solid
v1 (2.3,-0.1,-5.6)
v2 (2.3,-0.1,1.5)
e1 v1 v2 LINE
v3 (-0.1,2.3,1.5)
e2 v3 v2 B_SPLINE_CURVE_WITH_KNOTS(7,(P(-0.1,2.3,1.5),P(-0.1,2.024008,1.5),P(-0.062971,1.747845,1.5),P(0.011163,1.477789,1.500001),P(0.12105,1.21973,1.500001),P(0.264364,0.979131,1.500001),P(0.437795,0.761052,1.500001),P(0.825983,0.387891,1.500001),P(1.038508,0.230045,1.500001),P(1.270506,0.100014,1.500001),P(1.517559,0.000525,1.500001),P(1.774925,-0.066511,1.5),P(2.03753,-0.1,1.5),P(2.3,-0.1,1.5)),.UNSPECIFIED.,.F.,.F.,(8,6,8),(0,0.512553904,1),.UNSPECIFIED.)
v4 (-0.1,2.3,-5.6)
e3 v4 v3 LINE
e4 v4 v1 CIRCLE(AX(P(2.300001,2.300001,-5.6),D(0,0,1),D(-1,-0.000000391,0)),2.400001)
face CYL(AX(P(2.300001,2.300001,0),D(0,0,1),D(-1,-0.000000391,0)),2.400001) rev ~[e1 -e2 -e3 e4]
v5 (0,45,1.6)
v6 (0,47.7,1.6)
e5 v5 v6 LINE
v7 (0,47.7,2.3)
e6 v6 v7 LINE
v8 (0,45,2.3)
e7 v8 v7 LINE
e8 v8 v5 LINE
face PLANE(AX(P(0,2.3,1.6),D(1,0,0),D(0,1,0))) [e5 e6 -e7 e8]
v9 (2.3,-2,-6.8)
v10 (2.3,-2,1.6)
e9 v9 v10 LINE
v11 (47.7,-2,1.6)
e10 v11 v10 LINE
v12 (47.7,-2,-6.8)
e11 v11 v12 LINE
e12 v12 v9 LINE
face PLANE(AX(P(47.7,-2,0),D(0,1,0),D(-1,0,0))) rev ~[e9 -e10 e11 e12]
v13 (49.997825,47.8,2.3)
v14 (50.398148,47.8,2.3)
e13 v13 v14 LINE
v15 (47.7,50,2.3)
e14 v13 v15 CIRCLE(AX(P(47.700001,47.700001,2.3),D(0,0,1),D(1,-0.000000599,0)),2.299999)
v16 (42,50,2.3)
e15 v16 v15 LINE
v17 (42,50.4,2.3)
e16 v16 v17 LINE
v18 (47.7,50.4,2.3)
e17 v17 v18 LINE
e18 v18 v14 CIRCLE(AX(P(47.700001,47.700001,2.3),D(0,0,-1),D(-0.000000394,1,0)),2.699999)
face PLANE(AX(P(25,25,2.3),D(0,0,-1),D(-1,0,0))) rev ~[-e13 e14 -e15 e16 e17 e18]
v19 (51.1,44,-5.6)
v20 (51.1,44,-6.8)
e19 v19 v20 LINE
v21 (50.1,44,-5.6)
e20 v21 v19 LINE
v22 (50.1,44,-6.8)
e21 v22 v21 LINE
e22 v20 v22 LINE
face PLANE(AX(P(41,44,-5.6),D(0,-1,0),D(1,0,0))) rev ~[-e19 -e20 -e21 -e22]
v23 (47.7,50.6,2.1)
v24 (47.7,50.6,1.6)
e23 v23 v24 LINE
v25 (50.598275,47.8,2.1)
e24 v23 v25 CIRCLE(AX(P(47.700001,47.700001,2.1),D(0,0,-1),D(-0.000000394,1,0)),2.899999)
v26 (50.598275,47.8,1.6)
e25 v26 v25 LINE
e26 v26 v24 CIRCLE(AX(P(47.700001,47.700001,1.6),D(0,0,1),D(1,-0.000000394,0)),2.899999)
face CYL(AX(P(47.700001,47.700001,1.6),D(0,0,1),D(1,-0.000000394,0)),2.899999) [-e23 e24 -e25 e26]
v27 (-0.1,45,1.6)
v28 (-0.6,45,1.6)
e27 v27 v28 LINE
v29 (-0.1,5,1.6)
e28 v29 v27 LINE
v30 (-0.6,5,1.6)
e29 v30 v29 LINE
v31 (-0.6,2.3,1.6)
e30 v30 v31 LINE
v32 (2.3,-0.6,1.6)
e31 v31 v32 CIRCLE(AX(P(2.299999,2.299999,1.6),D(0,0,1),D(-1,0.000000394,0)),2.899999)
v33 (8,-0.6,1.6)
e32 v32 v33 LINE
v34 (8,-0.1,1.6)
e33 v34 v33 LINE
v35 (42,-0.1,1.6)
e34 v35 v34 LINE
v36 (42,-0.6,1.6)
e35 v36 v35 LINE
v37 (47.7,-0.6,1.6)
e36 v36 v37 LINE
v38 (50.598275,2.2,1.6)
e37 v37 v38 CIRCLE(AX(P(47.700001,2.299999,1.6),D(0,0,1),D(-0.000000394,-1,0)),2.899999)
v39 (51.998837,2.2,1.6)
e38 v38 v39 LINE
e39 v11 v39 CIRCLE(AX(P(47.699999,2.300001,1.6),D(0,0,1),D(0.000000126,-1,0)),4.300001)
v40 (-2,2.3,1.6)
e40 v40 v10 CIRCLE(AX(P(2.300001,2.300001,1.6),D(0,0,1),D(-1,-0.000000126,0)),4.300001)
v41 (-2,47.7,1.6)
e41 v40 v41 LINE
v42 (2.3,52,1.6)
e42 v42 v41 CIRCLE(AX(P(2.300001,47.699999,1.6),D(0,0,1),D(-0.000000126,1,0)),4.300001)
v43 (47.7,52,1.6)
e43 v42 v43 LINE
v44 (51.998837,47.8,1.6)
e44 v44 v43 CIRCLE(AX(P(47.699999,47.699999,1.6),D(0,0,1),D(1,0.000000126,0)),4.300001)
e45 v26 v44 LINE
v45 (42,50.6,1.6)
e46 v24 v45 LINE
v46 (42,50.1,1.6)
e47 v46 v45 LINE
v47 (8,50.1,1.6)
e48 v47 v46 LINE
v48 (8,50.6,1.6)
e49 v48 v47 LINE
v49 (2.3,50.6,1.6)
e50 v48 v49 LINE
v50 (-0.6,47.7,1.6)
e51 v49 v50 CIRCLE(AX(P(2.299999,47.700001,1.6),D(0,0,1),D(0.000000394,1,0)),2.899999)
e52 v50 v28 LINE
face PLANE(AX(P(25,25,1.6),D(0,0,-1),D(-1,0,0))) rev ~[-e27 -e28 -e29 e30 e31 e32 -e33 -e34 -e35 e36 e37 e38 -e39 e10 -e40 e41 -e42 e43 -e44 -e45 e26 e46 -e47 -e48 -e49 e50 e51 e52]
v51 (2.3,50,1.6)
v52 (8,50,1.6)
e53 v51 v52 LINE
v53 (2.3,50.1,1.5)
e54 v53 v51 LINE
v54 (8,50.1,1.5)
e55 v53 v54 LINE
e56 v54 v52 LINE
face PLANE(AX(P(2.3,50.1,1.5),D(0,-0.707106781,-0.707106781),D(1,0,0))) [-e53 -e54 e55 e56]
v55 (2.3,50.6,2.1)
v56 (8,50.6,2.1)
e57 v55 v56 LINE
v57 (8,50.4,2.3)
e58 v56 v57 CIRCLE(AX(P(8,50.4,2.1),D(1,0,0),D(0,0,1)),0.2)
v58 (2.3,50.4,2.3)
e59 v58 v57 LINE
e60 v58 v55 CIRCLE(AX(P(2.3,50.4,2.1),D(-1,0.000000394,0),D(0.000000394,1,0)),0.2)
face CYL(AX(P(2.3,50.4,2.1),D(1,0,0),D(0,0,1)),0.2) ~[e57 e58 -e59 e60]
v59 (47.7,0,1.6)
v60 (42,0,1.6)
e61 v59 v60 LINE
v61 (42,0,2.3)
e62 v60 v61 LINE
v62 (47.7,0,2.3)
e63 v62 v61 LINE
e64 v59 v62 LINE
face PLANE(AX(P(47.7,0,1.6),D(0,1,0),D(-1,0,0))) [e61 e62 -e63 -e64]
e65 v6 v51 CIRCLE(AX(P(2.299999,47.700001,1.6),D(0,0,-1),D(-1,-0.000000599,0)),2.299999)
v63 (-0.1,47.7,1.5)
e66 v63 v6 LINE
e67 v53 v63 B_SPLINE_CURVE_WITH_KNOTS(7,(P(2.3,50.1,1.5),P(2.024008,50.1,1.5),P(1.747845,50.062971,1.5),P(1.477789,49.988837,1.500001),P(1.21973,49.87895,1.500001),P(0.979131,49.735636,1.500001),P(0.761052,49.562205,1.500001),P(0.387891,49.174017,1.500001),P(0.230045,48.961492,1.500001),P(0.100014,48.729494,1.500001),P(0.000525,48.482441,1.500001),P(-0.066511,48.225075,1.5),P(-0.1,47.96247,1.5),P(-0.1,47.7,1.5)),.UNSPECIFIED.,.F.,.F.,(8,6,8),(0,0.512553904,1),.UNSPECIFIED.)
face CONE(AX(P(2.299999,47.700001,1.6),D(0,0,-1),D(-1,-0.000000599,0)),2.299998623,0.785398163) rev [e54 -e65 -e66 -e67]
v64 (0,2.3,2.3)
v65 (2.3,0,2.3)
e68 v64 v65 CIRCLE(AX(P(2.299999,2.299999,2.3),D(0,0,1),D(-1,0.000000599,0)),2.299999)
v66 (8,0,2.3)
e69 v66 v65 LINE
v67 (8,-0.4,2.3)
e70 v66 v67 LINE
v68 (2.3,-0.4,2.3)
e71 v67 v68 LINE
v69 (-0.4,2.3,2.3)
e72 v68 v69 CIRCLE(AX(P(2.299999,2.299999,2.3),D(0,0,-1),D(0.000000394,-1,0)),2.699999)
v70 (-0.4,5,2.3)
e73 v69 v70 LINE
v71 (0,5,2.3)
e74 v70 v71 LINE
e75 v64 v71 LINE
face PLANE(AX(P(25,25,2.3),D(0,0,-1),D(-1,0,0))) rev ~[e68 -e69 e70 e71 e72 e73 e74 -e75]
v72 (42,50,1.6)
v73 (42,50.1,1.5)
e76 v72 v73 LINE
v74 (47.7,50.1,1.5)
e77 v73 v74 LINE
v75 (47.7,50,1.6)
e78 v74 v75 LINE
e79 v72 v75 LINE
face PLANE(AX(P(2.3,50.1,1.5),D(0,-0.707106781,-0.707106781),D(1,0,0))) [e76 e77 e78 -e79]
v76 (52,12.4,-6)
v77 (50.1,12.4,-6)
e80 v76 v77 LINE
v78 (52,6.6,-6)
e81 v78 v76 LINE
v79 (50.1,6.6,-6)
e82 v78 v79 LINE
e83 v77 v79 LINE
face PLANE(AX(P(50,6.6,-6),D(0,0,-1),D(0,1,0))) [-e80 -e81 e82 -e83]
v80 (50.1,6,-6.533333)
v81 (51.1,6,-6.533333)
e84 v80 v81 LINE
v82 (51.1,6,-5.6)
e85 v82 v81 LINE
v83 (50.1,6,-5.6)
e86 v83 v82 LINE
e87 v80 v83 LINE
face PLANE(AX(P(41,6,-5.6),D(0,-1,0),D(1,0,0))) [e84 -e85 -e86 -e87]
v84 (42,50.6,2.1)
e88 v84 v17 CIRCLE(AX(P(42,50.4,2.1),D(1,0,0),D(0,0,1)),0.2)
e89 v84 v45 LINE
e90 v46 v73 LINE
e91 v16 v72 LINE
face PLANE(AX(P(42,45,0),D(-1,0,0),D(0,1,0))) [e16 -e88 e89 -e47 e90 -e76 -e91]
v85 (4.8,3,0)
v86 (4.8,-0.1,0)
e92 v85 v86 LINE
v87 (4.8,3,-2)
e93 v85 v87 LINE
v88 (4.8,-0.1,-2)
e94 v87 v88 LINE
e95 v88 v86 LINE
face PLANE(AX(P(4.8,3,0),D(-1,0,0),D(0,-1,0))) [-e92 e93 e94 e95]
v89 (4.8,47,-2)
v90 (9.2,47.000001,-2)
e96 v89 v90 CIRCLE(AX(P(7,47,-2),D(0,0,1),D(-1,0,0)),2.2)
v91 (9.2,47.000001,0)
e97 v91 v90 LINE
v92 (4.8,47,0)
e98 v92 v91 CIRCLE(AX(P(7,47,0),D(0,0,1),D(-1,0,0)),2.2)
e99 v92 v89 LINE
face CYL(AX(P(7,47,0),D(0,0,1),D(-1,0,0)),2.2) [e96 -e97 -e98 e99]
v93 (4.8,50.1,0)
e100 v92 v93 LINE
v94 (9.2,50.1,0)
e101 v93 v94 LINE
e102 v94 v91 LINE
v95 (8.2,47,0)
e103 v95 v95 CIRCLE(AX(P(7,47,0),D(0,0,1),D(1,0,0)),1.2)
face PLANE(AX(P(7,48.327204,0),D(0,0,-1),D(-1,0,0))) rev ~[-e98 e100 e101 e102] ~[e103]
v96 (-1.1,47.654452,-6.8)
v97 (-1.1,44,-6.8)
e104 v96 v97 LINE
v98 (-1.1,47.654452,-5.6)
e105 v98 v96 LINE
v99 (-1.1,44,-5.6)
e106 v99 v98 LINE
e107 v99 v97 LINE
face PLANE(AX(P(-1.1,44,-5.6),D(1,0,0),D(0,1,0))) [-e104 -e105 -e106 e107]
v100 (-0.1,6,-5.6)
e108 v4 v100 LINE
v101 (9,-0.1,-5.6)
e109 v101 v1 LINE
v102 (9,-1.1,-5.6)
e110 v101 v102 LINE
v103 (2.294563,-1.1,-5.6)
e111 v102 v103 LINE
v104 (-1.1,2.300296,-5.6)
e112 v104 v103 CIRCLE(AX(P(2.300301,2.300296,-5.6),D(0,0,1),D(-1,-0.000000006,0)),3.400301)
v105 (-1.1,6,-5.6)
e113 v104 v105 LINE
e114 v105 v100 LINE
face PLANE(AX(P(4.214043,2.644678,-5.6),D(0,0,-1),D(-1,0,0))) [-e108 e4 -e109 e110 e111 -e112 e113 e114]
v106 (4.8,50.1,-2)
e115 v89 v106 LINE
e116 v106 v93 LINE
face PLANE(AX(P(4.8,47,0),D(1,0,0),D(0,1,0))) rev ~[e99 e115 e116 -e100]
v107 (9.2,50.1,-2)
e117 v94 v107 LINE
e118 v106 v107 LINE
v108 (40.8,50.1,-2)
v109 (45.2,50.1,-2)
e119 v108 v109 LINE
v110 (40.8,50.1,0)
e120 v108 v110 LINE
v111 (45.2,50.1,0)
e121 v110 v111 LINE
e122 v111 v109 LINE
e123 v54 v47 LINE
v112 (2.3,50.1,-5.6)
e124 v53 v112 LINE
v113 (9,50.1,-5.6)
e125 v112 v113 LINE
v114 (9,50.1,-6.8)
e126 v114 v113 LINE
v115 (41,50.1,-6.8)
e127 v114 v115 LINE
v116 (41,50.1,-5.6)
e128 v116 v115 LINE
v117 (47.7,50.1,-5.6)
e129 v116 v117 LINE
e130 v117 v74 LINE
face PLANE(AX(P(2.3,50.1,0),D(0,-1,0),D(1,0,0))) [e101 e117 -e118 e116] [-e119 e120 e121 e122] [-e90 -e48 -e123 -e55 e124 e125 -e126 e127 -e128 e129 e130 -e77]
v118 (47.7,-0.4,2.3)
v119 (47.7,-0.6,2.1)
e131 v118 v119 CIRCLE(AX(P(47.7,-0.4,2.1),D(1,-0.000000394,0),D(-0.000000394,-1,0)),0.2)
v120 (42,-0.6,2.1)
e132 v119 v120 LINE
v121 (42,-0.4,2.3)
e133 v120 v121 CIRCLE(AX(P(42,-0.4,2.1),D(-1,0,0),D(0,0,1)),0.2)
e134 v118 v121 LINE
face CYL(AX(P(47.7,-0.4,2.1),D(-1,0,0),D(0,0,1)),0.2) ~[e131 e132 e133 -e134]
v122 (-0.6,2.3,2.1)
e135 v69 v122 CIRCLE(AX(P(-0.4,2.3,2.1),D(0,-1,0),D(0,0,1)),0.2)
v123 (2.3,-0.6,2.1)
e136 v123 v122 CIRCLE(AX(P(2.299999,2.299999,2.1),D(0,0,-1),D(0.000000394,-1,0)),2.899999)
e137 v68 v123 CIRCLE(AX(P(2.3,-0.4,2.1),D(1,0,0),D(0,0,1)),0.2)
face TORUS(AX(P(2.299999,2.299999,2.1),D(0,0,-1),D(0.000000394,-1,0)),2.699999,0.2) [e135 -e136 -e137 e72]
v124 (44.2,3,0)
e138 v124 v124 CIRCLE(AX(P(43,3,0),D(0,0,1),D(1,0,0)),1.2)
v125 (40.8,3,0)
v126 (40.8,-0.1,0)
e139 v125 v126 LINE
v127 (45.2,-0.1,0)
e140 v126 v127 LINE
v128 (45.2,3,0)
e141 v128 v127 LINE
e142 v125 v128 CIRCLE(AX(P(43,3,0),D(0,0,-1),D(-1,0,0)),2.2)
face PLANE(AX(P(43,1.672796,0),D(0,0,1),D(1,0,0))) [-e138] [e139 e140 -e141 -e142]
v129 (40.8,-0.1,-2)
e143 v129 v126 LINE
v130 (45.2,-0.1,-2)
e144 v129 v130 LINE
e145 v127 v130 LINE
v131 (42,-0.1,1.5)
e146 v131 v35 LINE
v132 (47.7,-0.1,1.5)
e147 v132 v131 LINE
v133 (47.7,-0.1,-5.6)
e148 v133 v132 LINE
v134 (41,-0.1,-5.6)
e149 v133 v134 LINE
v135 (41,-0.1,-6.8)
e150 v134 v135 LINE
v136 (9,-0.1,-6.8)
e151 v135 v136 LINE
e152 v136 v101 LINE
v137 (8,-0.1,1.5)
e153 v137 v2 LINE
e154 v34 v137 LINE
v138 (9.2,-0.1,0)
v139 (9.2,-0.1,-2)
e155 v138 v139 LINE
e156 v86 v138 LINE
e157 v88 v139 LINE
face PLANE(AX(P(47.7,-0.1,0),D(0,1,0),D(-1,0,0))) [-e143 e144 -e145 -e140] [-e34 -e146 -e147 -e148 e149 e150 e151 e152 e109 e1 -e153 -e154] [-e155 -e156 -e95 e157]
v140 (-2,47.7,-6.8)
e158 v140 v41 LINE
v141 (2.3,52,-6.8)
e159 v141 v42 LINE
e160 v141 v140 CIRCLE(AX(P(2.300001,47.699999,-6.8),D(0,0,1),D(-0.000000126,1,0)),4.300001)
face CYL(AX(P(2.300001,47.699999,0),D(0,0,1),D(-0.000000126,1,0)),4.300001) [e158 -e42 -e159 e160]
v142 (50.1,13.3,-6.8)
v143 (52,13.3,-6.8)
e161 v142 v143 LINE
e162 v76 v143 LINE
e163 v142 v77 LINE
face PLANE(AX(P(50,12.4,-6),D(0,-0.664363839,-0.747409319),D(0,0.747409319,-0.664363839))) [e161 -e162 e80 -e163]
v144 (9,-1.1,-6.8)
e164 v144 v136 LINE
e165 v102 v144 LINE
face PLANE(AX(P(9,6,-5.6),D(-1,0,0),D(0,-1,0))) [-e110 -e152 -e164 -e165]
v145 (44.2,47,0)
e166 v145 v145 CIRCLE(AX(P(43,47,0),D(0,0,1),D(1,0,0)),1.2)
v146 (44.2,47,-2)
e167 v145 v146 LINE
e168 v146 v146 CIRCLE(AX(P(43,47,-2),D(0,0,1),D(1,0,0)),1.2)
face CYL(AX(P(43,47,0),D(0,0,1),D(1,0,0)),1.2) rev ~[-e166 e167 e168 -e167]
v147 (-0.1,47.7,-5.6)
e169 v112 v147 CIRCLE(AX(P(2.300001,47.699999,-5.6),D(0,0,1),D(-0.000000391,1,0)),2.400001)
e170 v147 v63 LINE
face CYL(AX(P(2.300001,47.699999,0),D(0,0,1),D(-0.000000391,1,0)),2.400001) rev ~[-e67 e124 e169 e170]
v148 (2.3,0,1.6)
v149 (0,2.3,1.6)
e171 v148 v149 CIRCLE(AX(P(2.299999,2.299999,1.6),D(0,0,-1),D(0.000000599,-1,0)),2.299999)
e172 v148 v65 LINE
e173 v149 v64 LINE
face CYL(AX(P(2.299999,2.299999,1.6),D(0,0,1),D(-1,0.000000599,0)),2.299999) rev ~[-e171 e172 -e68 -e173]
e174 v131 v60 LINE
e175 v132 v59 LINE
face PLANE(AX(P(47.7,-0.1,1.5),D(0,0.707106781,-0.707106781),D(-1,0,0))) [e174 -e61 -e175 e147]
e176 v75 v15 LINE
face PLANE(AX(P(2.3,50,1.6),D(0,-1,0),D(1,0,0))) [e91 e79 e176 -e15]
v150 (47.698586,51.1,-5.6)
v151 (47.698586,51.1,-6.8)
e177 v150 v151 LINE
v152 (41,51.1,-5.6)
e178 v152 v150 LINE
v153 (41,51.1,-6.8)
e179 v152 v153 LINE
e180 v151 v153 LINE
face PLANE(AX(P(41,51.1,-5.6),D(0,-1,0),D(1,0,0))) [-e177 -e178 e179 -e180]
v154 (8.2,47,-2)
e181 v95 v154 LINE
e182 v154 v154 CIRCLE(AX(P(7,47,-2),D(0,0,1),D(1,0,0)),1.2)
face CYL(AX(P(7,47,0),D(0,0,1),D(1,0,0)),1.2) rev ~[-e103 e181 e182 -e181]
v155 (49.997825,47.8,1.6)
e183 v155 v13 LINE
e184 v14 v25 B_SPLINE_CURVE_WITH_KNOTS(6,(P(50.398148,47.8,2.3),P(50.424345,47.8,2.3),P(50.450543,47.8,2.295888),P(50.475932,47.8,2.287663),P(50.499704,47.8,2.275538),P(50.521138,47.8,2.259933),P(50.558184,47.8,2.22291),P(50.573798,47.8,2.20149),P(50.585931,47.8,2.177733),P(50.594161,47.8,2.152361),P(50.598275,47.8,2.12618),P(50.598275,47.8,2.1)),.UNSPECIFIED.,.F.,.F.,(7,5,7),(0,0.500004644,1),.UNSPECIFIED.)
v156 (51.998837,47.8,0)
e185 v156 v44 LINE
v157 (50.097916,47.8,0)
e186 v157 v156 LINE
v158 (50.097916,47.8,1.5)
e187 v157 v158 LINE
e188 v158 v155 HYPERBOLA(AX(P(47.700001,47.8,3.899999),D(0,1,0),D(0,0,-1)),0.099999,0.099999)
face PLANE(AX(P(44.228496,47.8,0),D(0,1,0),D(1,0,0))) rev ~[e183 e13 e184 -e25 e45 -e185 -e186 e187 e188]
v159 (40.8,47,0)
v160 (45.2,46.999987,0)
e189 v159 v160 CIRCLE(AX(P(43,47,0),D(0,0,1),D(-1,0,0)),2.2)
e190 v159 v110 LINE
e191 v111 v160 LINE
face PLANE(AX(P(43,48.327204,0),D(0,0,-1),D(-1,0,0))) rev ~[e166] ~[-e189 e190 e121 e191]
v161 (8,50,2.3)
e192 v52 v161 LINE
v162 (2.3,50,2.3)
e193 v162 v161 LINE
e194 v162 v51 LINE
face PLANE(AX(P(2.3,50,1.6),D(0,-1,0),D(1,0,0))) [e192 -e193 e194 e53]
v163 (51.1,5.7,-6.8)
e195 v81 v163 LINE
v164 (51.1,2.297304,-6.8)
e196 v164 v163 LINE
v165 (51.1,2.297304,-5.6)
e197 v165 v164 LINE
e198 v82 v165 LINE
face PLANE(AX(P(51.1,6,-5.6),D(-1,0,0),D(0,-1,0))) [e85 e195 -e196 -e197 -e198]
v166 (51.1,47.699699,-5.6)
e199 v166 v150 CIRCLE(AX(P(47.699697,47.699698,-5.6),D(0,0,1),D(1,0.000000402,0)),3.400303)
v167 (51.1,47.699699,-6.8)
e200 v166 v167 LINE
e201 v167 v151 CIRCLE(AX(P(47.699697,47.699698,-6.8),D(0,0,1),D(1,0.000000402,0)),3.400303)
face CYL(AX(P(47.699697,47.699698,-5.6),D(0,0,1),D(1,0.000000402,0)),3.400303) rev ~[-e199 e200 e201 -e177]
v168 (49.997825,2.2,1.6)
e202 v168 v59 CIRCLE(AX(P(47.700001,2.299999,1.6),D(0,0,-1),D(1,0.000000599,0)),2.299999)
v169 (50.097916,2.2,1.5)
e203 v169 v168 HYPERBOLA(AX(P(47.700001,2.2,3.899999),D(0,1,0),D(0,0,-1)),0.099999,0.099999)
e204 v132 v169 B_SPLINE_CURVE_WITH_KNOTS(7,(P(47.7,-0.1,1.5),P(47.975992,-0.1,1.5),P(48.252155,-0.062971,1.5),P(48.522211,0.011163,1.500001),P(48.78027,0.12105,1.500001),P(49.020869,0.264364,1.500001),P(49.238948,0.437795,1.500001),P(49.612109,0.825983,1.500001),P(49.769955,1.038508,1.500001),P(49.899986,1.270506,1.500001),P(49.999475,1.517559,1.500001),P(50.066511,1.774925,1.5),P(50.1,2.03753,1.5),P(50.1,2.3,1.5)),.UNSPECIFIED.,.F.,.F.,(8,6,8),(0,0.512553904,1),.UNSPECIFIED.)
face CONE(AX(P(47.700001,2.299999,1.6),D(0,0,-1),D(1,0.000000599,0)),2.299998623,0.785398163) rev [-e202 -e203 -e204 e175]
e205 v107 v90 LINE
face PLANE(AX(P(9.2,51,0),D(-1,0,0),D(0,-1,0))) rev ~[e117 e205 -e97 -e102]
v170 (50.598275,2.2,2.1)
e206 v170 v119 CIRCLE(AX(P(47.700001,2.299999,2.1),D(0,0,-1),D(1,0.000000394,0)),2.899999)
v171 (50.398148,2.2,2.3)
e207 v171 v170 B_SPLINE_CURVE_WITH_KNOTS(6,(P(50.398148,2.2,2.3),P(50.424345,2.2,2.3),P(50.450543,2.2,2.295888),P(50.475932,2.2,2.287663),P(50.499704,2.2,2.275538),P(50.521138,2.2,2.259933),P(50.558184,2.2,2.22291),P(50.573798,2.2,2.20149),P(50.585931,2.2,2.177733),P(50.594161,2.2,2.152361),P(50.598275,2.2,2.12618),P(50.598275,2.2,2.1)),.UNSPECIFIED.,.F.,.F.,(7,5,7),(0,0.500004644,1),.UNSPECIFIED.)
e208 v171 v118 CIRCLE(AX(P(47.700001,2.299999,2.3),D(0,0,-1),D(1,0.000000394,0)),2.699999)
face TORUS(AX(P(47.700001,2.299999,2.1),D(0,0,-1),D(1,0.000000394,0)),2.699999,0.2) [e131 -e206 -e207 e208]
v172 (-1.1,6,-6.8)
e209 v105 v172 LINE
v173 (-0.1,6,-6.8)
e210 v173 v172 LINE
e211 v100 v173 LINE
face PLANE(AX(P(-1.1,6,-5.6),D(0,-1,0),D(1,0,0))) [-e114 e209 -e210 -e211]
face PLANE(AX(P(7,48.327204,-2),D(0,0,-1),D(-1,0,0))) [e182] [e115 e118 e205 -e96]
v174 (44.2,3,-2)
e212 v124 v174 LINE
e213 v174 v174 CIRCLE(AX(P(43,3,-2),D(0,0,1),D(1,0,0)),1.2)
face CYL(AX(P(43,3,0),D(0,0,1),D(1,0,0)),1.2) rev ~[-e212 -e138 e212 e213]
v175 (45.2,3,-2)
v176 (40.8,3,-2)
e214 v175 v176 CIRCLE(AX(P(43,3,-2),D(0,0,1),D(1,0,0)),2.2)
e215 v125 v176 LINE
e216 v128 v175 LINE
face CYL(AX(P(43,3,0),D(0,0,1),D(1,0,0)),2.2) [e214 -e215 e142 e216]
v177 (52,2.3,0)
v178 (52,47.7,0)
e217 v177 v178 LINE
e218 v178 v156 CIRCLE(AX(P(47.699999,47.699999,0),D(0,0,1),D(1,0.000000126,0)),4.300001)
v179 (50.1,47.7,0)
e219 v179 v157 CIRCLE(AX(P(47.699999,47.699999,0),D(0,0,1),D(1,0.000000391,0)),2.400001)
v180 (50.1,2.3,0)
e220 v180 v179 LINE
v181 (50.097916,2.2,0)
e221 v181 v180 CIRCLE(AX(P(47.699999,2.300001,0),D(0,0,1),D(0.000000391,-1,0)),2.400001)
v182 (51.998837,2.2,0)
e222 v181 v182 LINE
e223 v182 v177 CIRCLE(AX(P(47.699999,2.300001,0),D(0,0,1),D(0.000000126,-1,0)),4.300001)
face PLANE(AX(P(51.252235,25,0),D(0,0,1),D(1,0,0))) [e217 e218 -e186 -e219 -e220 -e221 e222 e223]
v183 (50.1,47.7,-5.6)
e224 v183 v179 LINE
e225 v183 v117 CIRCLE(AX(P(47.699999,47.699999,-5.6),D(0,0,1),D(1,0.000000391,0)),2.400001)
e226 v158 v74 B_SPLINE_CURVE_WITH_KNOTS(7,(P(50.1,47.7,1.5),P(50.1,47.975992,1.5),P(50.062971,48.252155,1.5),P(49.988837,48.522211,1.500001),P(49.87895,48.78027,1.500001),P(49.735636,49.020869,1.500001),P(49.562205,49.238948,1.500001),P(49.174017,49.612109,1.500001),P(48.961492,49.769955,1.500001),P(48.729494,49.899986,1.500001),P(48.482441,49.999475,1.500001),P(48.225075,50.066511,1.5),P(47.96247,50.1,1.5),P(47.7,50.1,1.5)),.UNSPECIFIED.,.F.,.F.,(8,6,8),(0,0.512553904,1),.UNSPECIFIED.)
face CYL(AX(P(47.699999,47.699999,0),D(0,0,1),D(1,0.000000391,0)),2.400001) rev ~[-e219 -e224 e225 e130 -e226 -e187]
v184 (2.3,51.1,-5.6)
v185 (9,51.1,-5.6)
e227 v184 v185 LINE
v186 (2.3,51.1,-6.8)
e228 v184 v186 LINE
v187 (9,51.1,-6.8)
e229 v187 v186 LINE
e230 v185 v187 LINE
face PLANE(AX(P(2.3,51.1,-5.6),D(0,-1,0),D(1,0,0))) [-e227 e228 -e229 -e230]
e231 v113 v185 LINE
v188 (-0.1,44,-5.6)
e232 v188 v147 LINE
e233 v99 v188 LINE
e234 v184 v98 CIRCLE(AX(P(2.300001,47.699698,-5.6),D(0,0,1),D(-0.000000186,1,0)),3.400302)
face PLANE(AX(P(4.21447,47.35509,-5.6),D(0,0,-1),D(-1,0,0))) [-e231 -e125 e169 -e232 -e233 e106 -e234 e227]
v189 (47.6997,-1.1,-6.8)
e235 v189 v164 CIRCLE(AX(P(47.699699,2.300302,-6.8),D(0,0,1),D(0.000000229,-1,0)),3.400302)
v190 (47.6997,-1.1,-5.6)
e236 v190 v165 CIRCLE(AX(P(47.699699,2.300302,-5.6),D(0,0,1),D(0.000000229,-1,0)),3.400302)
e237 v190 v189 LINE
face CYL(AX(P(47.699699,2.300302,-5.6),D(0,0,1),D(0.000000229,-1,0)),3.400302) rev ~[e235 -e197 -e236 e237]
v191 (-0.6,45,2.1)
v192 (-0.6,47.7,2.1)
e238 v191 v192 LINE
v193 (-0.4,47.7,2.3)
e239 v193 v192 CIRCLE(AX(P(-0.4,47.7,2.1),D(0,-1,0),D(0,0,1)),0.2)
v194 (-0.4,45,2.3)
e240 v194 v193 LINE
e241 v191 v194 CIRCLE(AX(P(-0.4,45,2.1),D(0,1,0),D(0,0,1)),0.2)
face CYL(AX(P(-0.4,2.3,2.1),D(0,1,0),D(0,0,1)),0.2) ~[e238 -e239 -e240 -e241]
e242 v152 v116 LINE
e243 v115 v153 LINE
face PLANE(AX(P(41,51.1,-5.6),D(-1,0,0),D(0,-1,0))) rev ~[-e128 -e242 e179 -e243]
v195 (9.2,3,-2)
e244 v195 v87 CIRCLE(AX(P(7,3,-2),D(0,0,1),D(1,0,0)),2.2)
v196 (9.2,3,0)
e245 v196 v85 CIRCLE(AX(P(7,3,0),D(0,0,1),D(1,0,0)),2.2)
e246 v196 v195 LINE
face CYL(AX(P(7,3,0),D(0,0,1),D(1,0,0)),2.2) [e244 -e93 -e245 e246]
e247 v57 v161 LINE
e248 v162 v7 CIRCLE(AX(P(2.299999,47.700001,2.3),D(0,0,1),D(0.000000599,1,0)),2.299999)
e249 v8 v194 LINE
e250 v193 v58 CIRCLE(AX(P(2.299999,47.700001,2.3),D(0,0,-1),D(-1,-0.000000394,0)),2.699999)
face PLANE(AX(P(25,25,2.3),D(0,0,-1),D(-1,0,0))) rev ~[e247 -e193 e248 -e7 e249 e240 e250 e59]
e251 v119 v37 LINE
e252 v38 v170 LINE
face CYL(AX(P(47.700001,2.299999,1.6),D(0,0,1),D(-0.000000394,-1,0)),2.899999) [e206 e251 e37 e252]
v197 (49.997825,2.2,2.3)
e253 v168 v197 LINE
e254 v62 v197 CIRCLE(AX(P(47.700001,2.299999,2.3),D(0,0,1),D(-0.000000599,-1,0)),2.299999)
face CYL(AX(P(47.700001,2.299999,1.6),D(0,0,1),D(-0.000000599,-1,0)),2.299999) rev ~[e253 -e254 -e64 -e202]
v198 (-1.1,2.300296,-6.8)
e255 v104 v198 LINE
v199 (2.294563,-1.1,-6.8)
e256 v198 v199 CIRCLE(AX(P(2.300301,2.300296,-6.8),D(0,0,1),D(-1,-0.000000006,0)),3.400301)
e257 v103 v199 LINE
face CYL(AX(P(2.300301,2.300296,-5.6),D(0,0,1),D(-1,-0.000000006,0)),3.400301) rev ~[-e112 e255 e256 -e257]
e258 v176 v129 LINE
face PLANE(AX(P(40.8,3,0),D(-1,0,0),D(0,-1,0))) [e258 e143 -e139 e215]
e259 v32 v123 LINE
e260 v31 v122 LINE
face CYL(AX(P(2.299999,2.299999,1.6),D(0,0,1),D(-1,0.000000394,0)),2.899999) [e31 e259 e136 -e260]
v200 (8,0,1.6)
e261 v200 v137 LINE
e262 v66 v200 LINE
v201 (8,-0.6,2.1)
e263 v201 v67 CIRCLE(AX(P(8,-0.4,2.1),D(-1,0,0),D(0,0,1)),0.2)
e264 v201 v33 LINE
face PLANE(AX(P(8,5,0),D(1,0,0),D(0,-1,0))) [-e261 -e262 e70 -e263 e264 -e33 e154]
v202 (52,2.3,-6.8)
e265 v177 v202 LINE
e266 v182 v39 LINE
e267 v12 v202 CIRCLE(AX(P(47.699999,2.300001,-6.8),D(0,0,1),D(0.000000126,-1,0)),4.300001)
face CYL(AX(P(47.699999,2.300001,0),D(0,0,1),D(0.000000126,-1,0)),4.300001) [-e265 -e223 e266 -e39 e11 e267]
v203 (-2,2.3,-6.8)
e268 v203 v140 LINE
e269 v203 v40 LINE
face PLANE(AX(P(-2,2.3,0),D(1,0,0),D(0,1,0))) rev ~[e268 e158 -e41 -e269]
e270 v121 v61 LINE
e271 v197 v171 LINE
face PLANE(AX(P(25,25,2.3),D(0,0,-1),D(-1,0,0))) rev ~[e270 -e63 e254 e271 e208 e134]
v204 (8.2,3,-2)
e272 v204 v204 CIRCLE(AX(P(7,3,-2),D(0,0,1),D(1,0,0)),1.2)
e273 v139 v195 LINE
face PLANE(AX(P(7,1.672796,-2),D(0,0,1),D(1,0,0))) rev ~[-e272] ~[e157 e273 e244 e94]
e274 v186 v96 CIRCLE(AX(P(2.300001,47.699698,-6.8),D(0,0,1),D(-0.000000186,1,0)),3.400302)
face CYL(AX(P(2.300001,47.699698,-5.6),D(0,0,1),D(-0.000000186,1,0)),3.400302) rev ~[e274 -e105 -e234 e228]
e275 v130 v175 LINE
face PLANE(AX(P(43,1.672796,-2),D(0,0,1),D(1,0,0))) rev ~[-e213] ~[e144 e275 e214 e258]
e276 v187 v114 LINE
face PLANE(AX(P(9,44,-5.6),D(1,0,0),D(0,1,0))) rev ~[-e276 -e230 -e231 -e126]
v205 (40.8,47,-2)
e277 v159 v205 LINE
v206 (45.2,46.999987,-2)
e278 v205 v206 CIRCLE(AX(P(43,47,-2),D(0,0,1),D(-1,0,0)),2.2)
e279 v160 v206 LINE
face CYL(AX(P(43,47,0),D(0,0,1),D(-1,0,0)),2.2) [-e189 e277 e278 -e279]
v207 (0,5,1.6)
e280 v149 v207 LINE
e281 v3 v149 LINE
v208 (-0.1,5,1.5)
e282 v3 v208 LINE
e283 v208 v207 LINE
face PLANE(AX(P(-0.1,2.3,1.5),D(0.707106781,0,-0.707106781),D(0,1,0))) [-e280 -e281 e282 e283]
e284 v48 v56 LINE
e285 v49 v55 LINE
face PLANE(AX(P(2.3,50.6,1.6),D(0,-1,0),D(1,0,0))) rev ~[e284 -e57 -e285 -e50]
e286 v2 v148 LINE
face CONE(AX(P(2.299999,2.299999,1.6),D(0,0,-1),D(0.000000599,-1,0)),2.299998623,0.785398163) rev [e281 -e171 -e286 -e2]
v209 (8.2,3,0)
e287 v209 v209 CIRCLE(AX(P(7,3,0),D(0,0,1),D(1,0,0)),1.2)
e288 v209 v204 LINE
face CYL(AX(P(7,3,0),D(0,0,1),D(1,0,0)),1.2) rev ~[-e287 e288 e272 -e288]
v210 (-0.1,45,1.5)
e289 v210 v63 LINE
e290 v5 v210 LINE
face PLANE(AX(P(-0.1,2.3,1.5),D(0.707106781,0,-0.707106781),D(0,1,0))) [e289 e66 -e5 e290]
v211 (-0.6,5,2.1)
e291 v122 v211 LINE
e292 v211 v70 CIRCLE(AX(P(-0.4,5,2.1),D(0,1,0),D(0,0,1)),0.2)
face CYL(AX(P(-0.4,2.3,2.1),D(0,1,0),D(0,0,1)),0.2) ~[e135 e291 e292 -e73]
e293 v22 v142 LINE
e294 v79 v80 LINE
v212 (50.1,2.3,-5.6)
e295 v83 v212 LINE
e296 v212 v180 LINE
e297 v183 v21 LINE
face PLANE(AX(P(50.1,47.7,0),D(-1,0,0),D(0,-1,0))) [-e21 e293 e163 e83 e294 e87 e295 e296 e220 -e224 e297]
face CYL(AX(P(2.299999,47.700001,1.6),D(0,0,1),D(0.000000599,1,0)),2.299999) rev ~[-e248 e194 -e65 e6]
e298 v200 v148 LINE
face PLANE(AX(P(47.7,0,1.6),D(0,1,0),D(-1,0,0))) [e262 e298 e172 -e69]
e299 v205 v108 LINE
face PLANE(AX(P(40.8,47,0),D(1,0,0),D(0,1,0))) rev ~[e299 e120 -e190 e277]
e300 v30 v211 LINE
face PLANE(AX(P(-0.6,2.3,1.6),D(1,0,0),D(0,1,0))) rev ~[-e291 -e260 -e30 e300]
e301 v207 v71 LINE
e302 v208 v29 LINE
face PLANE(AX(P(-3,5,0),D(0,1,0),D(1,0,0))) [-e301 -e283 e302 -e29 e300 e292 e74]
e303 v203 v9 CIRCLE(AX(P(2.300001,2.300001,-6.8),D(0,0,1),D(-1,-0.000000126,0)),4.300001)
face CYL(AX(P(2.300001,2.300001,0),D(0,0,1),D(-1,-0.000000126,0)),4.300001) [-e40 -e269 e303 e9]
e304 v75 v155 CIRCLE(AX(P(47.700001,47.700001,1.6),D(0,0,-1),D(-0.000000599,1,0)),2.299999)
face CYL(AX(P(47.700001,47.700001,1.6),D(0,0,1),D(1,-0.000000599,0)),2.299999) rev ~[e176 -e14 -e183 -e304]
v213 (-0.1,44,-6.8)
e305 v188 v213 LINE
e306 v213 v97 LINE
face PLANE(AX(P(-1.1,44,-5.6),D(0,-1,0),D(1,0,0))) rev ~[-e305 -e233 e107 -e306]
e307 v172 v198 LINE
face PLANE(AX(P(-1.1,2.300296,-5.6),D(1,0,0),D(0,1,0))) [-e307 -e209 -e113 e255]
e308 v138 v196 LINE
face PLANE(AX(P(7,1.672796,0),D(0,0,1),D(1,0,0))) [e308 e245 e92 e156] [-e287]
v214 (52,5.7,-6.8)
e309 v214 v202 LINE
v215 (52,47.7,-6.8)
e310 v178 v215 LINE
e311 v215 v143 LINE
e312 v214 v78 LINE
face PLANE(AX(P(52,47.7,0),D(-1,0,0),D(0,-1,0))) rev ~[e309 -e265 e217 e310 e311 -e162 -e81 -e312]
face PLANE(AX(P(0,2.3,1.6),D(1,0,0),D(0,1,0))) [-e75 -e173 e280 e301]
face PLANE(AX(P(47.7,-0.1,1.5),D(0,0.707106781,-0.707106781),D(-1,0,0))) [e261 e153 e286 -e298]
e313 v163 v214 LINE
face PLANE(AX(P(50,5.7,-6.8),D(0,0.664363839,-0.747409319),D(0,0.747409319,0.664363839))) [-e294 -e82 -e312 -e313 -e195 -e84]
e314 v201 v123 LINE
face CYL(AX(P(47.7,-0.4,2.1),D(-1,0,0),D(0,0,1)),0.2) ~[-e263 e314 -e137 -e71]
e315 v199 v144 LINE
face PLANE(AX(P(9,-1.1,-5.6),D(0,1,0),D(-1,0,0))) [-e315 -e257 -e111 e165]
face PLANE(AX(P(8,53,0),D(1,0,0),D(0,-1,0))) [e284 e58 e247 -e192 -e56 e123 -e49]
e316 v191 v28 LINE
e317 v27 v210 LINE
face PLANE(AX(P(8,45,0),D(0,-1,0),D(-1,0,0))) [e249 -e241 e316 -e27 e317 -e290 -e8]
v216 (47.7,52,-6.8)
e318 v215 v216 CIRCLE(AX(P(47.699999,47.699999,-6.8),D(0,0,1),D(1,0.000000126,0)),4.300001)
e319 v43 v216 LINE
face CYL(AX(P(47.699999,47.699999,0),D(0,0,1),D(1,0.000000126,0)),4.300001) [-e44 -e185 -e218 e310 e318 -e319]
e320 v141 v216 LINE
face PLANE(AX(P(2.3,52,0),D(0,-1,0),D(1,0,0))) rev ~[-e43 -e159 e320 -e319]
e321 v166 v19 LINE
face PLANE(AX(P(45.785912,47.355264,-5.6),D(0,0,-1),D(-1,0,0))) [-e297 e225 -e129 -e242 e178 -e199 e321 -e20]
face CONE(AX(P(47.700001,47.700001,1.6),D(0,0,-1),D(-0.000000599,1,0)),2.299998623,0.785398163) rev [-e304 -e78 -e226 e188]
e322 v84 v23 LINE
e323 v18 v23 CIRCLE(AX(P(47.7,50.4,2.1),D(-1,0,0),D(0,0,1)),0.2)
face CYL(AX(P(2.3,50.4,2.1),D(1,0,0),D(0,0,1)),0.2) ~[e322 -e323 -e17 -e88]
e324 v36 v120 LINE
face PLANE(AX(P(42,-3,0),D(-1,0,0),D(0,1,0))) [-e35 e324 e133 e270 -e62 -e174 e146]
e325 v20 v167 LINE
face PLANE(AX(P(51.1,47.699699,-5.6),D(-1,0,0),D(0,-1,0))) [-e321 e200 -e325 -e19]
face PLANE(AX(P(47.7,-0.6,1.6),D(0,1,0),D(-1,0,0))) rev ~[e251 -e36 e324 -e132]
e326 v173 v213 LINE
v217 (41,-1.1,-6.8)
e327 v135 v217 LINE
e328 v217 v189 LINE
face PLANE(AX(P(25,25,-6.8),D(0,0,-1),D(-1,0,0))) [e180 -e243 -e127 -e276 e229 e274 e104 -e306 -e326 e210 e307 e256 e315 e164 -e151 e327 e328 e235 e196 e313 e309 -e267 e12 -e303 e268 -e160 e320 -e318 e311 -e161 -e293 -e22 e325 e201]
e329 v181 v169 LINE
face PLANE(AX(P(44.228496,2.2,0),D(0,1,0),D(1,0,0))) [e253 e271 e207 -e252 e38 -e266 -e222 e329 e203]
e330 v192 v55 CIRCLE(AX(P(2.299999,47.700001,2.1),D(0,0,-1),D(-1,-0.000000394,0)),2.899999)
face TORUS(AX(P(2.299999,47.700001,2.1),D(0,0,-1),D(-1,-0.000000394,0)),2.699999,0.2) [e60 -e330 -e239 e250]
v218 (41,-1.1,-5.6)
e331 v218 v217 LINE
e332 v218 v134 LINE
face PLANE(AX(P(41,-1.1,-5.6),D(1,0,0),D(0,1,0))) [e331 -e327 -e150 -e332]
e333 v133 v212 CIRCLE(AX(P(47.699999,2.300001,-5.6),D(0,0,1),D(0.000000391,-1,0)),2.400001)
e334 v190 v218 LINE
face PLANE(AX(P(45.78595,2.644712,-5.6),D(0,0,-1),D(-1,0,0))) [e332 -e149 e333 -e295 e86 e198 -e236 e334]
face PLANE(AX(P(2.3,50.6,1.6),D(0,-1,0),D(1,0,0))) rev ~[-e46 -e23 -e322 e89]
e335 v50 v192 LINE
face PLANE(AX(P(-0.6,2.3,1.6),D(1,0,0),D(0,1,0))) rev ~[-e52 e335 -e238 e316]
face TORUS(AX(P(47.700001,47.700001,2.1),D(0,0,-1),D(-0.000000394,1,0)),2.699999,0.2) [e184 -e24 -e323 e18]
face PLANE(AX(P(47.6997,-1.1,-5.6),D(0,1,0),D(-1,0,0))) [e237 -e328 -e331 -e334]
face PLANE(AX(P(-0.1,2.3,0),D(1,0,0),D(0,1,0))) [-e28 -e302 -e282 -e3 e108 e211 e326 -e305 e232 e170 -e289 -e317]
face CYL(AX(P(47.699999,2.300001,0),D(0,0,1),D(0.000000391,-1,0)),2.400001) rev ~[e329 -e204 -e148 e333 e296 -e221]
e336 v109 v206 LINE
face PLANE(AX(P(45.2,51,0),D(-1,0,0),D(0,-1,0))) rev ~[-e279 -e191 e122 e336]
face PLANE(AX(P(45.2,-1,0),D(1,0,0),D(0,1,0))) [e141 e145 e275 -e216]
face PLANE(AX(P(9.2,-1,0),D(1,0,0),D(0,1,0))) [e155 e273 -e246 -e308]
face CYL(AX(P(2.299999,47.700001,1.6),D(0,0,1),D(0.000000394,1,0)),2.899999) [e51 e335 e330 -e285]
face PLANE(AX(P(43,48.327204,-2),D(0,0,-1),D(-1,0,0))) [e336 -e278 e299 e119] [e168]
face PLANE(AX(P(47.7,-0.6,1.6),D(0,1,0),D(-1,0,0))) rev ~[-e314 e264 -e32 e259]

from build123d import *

# Parameters (mm, degrees)
EXTRUDE006_DEPTH                     = 2
EXTRUDE006_ONTO_SKETCH006_ROLL_ANGLE = 90
EXTRUDE006_PLACEMENT_ANGLE           = 90
SKETCH_W                             = 14.047477
SKETCH_H                             = 45.6
EXTRUDE004_DEPTH                     = 10
SKETCH002_R                          = 1.2
EXTRUDE001_DEPTH                     = 2
EXTRUDE005_DEPTH                     = 10
EXTRUDE003_DEPTH                     = 0.7
EXTRUDE003_DEPTH_BACK                = 0.2
FILLET_R                             = 0.2
CHAMFER_SIZE                         = 0.2
EXTRUDE002_DEPTH                     = 2
EXTRUDE_DEPTH                        = 1.6
EXTRUDE_DEPTH_BACK                   = 6.8


with BuildPart() as extrude006:
    # Sketch006 as drawn → Extrude006 (new, symmetric)
    with BuildSketch(Plane.XY):
        Polygon((-3.8, 0), (-2.9, 0.8), (2.9, 0.8), (3.8, 0), align=None)
    extrude(amount=EXTRUDE006_DEPTH, both=True)


with BuildPart() as extrude006_1:
    # Extrude006 onto Sketch006 roll: moved
    add(extrude006.part.rotate(Axis((0, 0, 0), (1, 0, 0)), EXTRUDE006_ONTO_SKETCH006_ROLL_ANGLE))


with BuildPart() as extrude006_2:
    # Extrude006 onto Sketch006 placement: moved
    add(extrude006_1.part)


with BuildPart() as extrude006_3:
    # Extrude006 placement: moved
    add(extrude006_2.part.moved(Location((50, 9.5, -6.8))).rotate(Axis((50, 9.5, -6.8), (0, 0, 1)), EXTRUDE006_PLACEMENT_ANGLE))


with BuildPart() as extrude004:
    # Sketch → Extrude004 (new body)
    with BuildSketch(Plane.XY):
        with Locations((51.252235, 25)):
            Rectangle(SKETCH_W, SKETCH_H)
    extrude(amount=EXTRUDE004_DEPTH)


with BuildPart() as extrude001:
    # Sketch002 → Extrude001 (new body)
    with BuildSketch(Plane.XY):
        with BuildLine():
            Line((4.8, 47), (4.8, 51))
            Line((4.8, 51), (9.2, 51))
            Line((9.2, 51), (9.2, 47.000001))
            ThreePointArc((4.8, 47), (7, 44.8), (9.2, 47.000001))
        make_face()
        with Locations((7, 47)):
            Circle(SKETCH002_R, mode=Mode.SUBTRACT)
        with BuildLine():
            ThreePointArc((9.2, 3), (7, 5.2), (4.8, 3))
            Line((4.8, 3), (4.8, -1))
            Line((4.8, -1), (9.2, -1))
            Line((9.2, -1), (9.2, 3))
        make_face()
        with Locations((7, 3)):
            Circle(SKETCH002_R, mode=Mode.SUBTRACT)
        with BuildLine():
            Line((40.8, 47), (40.8, 51))
            Line((40.8, 51), (45.2, 51))
            Line((45.2, 51), (45.2, 46.999987))
            ThreePointArc((40.8, 47), (42.999993, 44.8), (45.2, 46.999987))
        make_face()
        with Locations((43, 47)):
            Circle(SKETCH002_R, mode=Mode.SUBTRACT)
        with BuildLine():
            ThreePointArc((45.2, 3), (43, 5.2), (40.8, 3))
            Line((40.8, 3), (40.8, -1))
            Line((40.8, -1), (45.2, -1))
            Line((45.2, -1), (45.2, 3))
        make_face()
        with Locations((43, 3)):
            Circle(SKETCH002_R, mode=Mode.SUBTRACT)
    extrude(amount=-EXTRUDE001_DEPTH)


with BuildPart() as extrude005:
    # Sketch005 → Extrude005 (new body)
    with BuildSketch(Plane.XY):
        Polygon((8, 53), (8, 45), (-3, 45), (-3, 5), (8, 5), (8, -3), (42, -3), (42, 5), (53, 5), (53, 45), (42, 45), (42, 53), align=None)
    extrude(amount=EXTRUDE005_DEPTH)


with BuildPart() as cut003:
    # Sketch004 → Extrude003 (new body, two sides)
    with BuildSketch(Plane.XY) as extrude003_sk:
        with BuildLine():
            Line((2.3, 50.6), (47.7, 50.6))
            ThreePointArc((50.6, 47.7), (49.75061, 49.75061), (47.7, 50.6))
            Line((50.6, 47.7), (50.6, 2.3))
            ThreePointArc((47.7, -0.6), (49.75061, 0.24939), (50.6, 2.3))
            Line((47.7, -0.6), (2.3, -0.6))
            ThreePointArc((-0.6, 2.3), (0.24939, 0.24939), (2.3, -0.6))
            Line((-0.6, 2.3), (-0.6, 47.7))
            ThreePointArc((2.3, 50.6), (0.24939, 49.75061), (-0.6, 47.7))
        make_face()
        with BuildLine():
            Line((2.3, 50), (47.7, 50))
            ThreePointArc((50, 47.7), (49.326346, 49.326346), (47.7, 50))
            Line((50, 47.7), (50, 2.3))
            ThreePointArc((47.7, 0), (49.326346, 0.673654), (50, 2.3))
            Line((47.7, 0), (2.3, 0))
            ThreePointArc((0, 2.3), (0.673654, 0.673654), (2.3, 0))
            Line((0, 2.3), (0, 47.7))
            ThreePointArc((2.3, 50), (0.673654, 49.326346), (0, 47.7))
        make_face(mode=Mode.SUBTRACT)
    extrude(amount=EXTRUDE003_DEPTH)
    extrude(extrude003_sk.sketch, amount=-EXTRUDE003_DEPTH_BACK)


with BuildPart() as cut003_1:
    # Extrude003 placement: moved
    add(cut003.part.moved(Location((0, 0, 1.6))))

    # Fillet
    fillet_edges = [cut003_1.edges().sort_by_distance(p)[0] for p in [
        (-0.6, 25, 2.3),
        (0.24939, 49.75061, 2.3),
        (25, 50.6, 2.3),
        (49.75061, 49.75061, 2.3),
        (50.6, 25, 2.3),
        (49.75061, 0.24939, 2.3),
        (25, -0.6, 2.3),
        (0.24939, 0.24939, 2.3),
    ]]
    fillet(fillet_edges, radius=FILLET_R)

    # Chamfer
    chamfer_edges = [cut003_1.edges().sort_by_distance(p)[0] for p in [
        (0, 25, 1.4),
        (0.673654, 49.326346, 1.4),
        (25, 50, 1.4),
        (49.326346, 49.326346, 1.4),
        (50, 25, 1.4),
        (49.326346, 0.673654, 1.4),
        (25, 0, 1.4),
        (0.673654, 0.673654, 1.4),
    ]]
    chamfer(chamfer_edges, length=CHAMFER_SIZE)

    # Cut003: cut Extrude005
    add(extrude005.part, mode=Mode.SUBTRACT)


with BuildPart() as extrude002:
    # Sketch003 → Extrude002 (new body)
    with BuildSketch(Plane.XY):
        with BuildLine():
            Line((2.3, 51.1), (9, 51.1))
            Line((9, 44), (9, 51.1))
            Line((-1.1, 44), (9, 44))
            Line((-1.1, 44), (-1.1, 47.654452))
            ThreePointArc((2.3, 51.1), (-0.12032, 50.088024), (-1.1, 47.654452))
        make_face()
        with BuildLine():
            Line((51.1, 47.699699), (51.1, 44))
            Line((41, 44), (51.1, 44))
            Line((41, 51.1), (41, 44))
            Line((41, 51.1), (47.698586, 51.1))
            ThreePointArc((51.1, 47.699699), (50.103681, 50.104468), (47.698586, 51.1))
        make_face()
        with BuildLine():
            Line((47.6997, -1.1), (41, -1.1))
            Line((41, -1.1), (41, 6))
            Line((41, 6), (51.1, 6))
            Line((51.1, 6), (51.1, 2.297304))
            ThreePointArc((47.6997, -1.1), (50.103016, -0.105134), (51.1, 2.297304))
        make_face()
        with BuildLine():
            Line((-1.1, 2.300296), (-1.1, 6))
            Line((-1.1, 6), (9, 6))
            Line((9, 6), (9, -1.1))
            Line((9, -1.1), (2.294563, -1.1))
            ThreePointArc((-1.1, 2.300296), (-0.106103, -0.10205), (2.294563, -1.1))
        make_face()
    extrude(amount=-EXTRUDE002_DEPTH)


with BuildPart() as extrude002_1:
    # Extrude002 placement: moved
    add(extrude002.part.moved(Location((0, 0, -5.6))))


with BuildPart() as cut004:
    # Sketch001 → Extrude (new body, two sides)
    with BuildSketch(Plane.XY) as extrude_sk:
        with BuildLine():
            Line((2.3, 52), (47.7, 52))
            ThreePointArc((52, 47.7), (50.740559, 50.740559), (47.7, 52))
            Line((52, 47.7), (52, 2.3))
            ThreePointArc((47.7, -2), (50.740559, -0.740559), (52, 2.3))
            Line((47.7, -2), (2.3, -2))
            ThreePointArc((-2, 2.3), (-0.740559, -0.740559), (2.3, -2))
            Line((-2, 2.3), (-2, 47.7))
            ThreePointArc((2.3, 52), (-0.740559, 50.740559), (-2, 47.7))
        make_face()
        with BuildLine():
            Line((2.3, 50.1), (47.7, 50.1))
            ThreePointArc((50.1, 47.7), (49.397056, 49.397056), (47.7, 50.1))
            Line((50.1, 47.7), (50.1, 2.3))
            ThreePointArc((47.7, -0.1), (49.397056, 0.602944), (50.1, 2.3))
            Line((47.7, -0.1), (2.3, -0.1))
            ThreePointArc((-0.1, 2.3), (0.602944, 0.602944), (2.3, -0.1))
            Line((-0.1, 2.3), (-0.1, 47.7))
            ThreePointArc((2.3, 50.1), (0.602944, 49.397056), (-0.1, 47.7))
        make_face(mode=Mode.SUBTRACT)
    extrude(amount=EXTRUDE_DEPTH)
    extrude(extrude_sk.sketch, amount=-EXTRUDE_DEPTH_BACK)

    # Cut002: cut Extrude002
    add(extrude002_1.part, mode=Mode.SUBTRACT)

    # Fusion001: union Cut003
    add(cut003_1.part)

    # Fusion002: union Extrude001
    add(extrude001.part)

    # Cut: cut Extrude004
    add(extrude004.part, mode=Mode.SUBTRACT)

    # Cut004: cut Extrude006
    add(extrude006_3.part, mode=Mode.SUBTRACT)


solid = cut004.part
